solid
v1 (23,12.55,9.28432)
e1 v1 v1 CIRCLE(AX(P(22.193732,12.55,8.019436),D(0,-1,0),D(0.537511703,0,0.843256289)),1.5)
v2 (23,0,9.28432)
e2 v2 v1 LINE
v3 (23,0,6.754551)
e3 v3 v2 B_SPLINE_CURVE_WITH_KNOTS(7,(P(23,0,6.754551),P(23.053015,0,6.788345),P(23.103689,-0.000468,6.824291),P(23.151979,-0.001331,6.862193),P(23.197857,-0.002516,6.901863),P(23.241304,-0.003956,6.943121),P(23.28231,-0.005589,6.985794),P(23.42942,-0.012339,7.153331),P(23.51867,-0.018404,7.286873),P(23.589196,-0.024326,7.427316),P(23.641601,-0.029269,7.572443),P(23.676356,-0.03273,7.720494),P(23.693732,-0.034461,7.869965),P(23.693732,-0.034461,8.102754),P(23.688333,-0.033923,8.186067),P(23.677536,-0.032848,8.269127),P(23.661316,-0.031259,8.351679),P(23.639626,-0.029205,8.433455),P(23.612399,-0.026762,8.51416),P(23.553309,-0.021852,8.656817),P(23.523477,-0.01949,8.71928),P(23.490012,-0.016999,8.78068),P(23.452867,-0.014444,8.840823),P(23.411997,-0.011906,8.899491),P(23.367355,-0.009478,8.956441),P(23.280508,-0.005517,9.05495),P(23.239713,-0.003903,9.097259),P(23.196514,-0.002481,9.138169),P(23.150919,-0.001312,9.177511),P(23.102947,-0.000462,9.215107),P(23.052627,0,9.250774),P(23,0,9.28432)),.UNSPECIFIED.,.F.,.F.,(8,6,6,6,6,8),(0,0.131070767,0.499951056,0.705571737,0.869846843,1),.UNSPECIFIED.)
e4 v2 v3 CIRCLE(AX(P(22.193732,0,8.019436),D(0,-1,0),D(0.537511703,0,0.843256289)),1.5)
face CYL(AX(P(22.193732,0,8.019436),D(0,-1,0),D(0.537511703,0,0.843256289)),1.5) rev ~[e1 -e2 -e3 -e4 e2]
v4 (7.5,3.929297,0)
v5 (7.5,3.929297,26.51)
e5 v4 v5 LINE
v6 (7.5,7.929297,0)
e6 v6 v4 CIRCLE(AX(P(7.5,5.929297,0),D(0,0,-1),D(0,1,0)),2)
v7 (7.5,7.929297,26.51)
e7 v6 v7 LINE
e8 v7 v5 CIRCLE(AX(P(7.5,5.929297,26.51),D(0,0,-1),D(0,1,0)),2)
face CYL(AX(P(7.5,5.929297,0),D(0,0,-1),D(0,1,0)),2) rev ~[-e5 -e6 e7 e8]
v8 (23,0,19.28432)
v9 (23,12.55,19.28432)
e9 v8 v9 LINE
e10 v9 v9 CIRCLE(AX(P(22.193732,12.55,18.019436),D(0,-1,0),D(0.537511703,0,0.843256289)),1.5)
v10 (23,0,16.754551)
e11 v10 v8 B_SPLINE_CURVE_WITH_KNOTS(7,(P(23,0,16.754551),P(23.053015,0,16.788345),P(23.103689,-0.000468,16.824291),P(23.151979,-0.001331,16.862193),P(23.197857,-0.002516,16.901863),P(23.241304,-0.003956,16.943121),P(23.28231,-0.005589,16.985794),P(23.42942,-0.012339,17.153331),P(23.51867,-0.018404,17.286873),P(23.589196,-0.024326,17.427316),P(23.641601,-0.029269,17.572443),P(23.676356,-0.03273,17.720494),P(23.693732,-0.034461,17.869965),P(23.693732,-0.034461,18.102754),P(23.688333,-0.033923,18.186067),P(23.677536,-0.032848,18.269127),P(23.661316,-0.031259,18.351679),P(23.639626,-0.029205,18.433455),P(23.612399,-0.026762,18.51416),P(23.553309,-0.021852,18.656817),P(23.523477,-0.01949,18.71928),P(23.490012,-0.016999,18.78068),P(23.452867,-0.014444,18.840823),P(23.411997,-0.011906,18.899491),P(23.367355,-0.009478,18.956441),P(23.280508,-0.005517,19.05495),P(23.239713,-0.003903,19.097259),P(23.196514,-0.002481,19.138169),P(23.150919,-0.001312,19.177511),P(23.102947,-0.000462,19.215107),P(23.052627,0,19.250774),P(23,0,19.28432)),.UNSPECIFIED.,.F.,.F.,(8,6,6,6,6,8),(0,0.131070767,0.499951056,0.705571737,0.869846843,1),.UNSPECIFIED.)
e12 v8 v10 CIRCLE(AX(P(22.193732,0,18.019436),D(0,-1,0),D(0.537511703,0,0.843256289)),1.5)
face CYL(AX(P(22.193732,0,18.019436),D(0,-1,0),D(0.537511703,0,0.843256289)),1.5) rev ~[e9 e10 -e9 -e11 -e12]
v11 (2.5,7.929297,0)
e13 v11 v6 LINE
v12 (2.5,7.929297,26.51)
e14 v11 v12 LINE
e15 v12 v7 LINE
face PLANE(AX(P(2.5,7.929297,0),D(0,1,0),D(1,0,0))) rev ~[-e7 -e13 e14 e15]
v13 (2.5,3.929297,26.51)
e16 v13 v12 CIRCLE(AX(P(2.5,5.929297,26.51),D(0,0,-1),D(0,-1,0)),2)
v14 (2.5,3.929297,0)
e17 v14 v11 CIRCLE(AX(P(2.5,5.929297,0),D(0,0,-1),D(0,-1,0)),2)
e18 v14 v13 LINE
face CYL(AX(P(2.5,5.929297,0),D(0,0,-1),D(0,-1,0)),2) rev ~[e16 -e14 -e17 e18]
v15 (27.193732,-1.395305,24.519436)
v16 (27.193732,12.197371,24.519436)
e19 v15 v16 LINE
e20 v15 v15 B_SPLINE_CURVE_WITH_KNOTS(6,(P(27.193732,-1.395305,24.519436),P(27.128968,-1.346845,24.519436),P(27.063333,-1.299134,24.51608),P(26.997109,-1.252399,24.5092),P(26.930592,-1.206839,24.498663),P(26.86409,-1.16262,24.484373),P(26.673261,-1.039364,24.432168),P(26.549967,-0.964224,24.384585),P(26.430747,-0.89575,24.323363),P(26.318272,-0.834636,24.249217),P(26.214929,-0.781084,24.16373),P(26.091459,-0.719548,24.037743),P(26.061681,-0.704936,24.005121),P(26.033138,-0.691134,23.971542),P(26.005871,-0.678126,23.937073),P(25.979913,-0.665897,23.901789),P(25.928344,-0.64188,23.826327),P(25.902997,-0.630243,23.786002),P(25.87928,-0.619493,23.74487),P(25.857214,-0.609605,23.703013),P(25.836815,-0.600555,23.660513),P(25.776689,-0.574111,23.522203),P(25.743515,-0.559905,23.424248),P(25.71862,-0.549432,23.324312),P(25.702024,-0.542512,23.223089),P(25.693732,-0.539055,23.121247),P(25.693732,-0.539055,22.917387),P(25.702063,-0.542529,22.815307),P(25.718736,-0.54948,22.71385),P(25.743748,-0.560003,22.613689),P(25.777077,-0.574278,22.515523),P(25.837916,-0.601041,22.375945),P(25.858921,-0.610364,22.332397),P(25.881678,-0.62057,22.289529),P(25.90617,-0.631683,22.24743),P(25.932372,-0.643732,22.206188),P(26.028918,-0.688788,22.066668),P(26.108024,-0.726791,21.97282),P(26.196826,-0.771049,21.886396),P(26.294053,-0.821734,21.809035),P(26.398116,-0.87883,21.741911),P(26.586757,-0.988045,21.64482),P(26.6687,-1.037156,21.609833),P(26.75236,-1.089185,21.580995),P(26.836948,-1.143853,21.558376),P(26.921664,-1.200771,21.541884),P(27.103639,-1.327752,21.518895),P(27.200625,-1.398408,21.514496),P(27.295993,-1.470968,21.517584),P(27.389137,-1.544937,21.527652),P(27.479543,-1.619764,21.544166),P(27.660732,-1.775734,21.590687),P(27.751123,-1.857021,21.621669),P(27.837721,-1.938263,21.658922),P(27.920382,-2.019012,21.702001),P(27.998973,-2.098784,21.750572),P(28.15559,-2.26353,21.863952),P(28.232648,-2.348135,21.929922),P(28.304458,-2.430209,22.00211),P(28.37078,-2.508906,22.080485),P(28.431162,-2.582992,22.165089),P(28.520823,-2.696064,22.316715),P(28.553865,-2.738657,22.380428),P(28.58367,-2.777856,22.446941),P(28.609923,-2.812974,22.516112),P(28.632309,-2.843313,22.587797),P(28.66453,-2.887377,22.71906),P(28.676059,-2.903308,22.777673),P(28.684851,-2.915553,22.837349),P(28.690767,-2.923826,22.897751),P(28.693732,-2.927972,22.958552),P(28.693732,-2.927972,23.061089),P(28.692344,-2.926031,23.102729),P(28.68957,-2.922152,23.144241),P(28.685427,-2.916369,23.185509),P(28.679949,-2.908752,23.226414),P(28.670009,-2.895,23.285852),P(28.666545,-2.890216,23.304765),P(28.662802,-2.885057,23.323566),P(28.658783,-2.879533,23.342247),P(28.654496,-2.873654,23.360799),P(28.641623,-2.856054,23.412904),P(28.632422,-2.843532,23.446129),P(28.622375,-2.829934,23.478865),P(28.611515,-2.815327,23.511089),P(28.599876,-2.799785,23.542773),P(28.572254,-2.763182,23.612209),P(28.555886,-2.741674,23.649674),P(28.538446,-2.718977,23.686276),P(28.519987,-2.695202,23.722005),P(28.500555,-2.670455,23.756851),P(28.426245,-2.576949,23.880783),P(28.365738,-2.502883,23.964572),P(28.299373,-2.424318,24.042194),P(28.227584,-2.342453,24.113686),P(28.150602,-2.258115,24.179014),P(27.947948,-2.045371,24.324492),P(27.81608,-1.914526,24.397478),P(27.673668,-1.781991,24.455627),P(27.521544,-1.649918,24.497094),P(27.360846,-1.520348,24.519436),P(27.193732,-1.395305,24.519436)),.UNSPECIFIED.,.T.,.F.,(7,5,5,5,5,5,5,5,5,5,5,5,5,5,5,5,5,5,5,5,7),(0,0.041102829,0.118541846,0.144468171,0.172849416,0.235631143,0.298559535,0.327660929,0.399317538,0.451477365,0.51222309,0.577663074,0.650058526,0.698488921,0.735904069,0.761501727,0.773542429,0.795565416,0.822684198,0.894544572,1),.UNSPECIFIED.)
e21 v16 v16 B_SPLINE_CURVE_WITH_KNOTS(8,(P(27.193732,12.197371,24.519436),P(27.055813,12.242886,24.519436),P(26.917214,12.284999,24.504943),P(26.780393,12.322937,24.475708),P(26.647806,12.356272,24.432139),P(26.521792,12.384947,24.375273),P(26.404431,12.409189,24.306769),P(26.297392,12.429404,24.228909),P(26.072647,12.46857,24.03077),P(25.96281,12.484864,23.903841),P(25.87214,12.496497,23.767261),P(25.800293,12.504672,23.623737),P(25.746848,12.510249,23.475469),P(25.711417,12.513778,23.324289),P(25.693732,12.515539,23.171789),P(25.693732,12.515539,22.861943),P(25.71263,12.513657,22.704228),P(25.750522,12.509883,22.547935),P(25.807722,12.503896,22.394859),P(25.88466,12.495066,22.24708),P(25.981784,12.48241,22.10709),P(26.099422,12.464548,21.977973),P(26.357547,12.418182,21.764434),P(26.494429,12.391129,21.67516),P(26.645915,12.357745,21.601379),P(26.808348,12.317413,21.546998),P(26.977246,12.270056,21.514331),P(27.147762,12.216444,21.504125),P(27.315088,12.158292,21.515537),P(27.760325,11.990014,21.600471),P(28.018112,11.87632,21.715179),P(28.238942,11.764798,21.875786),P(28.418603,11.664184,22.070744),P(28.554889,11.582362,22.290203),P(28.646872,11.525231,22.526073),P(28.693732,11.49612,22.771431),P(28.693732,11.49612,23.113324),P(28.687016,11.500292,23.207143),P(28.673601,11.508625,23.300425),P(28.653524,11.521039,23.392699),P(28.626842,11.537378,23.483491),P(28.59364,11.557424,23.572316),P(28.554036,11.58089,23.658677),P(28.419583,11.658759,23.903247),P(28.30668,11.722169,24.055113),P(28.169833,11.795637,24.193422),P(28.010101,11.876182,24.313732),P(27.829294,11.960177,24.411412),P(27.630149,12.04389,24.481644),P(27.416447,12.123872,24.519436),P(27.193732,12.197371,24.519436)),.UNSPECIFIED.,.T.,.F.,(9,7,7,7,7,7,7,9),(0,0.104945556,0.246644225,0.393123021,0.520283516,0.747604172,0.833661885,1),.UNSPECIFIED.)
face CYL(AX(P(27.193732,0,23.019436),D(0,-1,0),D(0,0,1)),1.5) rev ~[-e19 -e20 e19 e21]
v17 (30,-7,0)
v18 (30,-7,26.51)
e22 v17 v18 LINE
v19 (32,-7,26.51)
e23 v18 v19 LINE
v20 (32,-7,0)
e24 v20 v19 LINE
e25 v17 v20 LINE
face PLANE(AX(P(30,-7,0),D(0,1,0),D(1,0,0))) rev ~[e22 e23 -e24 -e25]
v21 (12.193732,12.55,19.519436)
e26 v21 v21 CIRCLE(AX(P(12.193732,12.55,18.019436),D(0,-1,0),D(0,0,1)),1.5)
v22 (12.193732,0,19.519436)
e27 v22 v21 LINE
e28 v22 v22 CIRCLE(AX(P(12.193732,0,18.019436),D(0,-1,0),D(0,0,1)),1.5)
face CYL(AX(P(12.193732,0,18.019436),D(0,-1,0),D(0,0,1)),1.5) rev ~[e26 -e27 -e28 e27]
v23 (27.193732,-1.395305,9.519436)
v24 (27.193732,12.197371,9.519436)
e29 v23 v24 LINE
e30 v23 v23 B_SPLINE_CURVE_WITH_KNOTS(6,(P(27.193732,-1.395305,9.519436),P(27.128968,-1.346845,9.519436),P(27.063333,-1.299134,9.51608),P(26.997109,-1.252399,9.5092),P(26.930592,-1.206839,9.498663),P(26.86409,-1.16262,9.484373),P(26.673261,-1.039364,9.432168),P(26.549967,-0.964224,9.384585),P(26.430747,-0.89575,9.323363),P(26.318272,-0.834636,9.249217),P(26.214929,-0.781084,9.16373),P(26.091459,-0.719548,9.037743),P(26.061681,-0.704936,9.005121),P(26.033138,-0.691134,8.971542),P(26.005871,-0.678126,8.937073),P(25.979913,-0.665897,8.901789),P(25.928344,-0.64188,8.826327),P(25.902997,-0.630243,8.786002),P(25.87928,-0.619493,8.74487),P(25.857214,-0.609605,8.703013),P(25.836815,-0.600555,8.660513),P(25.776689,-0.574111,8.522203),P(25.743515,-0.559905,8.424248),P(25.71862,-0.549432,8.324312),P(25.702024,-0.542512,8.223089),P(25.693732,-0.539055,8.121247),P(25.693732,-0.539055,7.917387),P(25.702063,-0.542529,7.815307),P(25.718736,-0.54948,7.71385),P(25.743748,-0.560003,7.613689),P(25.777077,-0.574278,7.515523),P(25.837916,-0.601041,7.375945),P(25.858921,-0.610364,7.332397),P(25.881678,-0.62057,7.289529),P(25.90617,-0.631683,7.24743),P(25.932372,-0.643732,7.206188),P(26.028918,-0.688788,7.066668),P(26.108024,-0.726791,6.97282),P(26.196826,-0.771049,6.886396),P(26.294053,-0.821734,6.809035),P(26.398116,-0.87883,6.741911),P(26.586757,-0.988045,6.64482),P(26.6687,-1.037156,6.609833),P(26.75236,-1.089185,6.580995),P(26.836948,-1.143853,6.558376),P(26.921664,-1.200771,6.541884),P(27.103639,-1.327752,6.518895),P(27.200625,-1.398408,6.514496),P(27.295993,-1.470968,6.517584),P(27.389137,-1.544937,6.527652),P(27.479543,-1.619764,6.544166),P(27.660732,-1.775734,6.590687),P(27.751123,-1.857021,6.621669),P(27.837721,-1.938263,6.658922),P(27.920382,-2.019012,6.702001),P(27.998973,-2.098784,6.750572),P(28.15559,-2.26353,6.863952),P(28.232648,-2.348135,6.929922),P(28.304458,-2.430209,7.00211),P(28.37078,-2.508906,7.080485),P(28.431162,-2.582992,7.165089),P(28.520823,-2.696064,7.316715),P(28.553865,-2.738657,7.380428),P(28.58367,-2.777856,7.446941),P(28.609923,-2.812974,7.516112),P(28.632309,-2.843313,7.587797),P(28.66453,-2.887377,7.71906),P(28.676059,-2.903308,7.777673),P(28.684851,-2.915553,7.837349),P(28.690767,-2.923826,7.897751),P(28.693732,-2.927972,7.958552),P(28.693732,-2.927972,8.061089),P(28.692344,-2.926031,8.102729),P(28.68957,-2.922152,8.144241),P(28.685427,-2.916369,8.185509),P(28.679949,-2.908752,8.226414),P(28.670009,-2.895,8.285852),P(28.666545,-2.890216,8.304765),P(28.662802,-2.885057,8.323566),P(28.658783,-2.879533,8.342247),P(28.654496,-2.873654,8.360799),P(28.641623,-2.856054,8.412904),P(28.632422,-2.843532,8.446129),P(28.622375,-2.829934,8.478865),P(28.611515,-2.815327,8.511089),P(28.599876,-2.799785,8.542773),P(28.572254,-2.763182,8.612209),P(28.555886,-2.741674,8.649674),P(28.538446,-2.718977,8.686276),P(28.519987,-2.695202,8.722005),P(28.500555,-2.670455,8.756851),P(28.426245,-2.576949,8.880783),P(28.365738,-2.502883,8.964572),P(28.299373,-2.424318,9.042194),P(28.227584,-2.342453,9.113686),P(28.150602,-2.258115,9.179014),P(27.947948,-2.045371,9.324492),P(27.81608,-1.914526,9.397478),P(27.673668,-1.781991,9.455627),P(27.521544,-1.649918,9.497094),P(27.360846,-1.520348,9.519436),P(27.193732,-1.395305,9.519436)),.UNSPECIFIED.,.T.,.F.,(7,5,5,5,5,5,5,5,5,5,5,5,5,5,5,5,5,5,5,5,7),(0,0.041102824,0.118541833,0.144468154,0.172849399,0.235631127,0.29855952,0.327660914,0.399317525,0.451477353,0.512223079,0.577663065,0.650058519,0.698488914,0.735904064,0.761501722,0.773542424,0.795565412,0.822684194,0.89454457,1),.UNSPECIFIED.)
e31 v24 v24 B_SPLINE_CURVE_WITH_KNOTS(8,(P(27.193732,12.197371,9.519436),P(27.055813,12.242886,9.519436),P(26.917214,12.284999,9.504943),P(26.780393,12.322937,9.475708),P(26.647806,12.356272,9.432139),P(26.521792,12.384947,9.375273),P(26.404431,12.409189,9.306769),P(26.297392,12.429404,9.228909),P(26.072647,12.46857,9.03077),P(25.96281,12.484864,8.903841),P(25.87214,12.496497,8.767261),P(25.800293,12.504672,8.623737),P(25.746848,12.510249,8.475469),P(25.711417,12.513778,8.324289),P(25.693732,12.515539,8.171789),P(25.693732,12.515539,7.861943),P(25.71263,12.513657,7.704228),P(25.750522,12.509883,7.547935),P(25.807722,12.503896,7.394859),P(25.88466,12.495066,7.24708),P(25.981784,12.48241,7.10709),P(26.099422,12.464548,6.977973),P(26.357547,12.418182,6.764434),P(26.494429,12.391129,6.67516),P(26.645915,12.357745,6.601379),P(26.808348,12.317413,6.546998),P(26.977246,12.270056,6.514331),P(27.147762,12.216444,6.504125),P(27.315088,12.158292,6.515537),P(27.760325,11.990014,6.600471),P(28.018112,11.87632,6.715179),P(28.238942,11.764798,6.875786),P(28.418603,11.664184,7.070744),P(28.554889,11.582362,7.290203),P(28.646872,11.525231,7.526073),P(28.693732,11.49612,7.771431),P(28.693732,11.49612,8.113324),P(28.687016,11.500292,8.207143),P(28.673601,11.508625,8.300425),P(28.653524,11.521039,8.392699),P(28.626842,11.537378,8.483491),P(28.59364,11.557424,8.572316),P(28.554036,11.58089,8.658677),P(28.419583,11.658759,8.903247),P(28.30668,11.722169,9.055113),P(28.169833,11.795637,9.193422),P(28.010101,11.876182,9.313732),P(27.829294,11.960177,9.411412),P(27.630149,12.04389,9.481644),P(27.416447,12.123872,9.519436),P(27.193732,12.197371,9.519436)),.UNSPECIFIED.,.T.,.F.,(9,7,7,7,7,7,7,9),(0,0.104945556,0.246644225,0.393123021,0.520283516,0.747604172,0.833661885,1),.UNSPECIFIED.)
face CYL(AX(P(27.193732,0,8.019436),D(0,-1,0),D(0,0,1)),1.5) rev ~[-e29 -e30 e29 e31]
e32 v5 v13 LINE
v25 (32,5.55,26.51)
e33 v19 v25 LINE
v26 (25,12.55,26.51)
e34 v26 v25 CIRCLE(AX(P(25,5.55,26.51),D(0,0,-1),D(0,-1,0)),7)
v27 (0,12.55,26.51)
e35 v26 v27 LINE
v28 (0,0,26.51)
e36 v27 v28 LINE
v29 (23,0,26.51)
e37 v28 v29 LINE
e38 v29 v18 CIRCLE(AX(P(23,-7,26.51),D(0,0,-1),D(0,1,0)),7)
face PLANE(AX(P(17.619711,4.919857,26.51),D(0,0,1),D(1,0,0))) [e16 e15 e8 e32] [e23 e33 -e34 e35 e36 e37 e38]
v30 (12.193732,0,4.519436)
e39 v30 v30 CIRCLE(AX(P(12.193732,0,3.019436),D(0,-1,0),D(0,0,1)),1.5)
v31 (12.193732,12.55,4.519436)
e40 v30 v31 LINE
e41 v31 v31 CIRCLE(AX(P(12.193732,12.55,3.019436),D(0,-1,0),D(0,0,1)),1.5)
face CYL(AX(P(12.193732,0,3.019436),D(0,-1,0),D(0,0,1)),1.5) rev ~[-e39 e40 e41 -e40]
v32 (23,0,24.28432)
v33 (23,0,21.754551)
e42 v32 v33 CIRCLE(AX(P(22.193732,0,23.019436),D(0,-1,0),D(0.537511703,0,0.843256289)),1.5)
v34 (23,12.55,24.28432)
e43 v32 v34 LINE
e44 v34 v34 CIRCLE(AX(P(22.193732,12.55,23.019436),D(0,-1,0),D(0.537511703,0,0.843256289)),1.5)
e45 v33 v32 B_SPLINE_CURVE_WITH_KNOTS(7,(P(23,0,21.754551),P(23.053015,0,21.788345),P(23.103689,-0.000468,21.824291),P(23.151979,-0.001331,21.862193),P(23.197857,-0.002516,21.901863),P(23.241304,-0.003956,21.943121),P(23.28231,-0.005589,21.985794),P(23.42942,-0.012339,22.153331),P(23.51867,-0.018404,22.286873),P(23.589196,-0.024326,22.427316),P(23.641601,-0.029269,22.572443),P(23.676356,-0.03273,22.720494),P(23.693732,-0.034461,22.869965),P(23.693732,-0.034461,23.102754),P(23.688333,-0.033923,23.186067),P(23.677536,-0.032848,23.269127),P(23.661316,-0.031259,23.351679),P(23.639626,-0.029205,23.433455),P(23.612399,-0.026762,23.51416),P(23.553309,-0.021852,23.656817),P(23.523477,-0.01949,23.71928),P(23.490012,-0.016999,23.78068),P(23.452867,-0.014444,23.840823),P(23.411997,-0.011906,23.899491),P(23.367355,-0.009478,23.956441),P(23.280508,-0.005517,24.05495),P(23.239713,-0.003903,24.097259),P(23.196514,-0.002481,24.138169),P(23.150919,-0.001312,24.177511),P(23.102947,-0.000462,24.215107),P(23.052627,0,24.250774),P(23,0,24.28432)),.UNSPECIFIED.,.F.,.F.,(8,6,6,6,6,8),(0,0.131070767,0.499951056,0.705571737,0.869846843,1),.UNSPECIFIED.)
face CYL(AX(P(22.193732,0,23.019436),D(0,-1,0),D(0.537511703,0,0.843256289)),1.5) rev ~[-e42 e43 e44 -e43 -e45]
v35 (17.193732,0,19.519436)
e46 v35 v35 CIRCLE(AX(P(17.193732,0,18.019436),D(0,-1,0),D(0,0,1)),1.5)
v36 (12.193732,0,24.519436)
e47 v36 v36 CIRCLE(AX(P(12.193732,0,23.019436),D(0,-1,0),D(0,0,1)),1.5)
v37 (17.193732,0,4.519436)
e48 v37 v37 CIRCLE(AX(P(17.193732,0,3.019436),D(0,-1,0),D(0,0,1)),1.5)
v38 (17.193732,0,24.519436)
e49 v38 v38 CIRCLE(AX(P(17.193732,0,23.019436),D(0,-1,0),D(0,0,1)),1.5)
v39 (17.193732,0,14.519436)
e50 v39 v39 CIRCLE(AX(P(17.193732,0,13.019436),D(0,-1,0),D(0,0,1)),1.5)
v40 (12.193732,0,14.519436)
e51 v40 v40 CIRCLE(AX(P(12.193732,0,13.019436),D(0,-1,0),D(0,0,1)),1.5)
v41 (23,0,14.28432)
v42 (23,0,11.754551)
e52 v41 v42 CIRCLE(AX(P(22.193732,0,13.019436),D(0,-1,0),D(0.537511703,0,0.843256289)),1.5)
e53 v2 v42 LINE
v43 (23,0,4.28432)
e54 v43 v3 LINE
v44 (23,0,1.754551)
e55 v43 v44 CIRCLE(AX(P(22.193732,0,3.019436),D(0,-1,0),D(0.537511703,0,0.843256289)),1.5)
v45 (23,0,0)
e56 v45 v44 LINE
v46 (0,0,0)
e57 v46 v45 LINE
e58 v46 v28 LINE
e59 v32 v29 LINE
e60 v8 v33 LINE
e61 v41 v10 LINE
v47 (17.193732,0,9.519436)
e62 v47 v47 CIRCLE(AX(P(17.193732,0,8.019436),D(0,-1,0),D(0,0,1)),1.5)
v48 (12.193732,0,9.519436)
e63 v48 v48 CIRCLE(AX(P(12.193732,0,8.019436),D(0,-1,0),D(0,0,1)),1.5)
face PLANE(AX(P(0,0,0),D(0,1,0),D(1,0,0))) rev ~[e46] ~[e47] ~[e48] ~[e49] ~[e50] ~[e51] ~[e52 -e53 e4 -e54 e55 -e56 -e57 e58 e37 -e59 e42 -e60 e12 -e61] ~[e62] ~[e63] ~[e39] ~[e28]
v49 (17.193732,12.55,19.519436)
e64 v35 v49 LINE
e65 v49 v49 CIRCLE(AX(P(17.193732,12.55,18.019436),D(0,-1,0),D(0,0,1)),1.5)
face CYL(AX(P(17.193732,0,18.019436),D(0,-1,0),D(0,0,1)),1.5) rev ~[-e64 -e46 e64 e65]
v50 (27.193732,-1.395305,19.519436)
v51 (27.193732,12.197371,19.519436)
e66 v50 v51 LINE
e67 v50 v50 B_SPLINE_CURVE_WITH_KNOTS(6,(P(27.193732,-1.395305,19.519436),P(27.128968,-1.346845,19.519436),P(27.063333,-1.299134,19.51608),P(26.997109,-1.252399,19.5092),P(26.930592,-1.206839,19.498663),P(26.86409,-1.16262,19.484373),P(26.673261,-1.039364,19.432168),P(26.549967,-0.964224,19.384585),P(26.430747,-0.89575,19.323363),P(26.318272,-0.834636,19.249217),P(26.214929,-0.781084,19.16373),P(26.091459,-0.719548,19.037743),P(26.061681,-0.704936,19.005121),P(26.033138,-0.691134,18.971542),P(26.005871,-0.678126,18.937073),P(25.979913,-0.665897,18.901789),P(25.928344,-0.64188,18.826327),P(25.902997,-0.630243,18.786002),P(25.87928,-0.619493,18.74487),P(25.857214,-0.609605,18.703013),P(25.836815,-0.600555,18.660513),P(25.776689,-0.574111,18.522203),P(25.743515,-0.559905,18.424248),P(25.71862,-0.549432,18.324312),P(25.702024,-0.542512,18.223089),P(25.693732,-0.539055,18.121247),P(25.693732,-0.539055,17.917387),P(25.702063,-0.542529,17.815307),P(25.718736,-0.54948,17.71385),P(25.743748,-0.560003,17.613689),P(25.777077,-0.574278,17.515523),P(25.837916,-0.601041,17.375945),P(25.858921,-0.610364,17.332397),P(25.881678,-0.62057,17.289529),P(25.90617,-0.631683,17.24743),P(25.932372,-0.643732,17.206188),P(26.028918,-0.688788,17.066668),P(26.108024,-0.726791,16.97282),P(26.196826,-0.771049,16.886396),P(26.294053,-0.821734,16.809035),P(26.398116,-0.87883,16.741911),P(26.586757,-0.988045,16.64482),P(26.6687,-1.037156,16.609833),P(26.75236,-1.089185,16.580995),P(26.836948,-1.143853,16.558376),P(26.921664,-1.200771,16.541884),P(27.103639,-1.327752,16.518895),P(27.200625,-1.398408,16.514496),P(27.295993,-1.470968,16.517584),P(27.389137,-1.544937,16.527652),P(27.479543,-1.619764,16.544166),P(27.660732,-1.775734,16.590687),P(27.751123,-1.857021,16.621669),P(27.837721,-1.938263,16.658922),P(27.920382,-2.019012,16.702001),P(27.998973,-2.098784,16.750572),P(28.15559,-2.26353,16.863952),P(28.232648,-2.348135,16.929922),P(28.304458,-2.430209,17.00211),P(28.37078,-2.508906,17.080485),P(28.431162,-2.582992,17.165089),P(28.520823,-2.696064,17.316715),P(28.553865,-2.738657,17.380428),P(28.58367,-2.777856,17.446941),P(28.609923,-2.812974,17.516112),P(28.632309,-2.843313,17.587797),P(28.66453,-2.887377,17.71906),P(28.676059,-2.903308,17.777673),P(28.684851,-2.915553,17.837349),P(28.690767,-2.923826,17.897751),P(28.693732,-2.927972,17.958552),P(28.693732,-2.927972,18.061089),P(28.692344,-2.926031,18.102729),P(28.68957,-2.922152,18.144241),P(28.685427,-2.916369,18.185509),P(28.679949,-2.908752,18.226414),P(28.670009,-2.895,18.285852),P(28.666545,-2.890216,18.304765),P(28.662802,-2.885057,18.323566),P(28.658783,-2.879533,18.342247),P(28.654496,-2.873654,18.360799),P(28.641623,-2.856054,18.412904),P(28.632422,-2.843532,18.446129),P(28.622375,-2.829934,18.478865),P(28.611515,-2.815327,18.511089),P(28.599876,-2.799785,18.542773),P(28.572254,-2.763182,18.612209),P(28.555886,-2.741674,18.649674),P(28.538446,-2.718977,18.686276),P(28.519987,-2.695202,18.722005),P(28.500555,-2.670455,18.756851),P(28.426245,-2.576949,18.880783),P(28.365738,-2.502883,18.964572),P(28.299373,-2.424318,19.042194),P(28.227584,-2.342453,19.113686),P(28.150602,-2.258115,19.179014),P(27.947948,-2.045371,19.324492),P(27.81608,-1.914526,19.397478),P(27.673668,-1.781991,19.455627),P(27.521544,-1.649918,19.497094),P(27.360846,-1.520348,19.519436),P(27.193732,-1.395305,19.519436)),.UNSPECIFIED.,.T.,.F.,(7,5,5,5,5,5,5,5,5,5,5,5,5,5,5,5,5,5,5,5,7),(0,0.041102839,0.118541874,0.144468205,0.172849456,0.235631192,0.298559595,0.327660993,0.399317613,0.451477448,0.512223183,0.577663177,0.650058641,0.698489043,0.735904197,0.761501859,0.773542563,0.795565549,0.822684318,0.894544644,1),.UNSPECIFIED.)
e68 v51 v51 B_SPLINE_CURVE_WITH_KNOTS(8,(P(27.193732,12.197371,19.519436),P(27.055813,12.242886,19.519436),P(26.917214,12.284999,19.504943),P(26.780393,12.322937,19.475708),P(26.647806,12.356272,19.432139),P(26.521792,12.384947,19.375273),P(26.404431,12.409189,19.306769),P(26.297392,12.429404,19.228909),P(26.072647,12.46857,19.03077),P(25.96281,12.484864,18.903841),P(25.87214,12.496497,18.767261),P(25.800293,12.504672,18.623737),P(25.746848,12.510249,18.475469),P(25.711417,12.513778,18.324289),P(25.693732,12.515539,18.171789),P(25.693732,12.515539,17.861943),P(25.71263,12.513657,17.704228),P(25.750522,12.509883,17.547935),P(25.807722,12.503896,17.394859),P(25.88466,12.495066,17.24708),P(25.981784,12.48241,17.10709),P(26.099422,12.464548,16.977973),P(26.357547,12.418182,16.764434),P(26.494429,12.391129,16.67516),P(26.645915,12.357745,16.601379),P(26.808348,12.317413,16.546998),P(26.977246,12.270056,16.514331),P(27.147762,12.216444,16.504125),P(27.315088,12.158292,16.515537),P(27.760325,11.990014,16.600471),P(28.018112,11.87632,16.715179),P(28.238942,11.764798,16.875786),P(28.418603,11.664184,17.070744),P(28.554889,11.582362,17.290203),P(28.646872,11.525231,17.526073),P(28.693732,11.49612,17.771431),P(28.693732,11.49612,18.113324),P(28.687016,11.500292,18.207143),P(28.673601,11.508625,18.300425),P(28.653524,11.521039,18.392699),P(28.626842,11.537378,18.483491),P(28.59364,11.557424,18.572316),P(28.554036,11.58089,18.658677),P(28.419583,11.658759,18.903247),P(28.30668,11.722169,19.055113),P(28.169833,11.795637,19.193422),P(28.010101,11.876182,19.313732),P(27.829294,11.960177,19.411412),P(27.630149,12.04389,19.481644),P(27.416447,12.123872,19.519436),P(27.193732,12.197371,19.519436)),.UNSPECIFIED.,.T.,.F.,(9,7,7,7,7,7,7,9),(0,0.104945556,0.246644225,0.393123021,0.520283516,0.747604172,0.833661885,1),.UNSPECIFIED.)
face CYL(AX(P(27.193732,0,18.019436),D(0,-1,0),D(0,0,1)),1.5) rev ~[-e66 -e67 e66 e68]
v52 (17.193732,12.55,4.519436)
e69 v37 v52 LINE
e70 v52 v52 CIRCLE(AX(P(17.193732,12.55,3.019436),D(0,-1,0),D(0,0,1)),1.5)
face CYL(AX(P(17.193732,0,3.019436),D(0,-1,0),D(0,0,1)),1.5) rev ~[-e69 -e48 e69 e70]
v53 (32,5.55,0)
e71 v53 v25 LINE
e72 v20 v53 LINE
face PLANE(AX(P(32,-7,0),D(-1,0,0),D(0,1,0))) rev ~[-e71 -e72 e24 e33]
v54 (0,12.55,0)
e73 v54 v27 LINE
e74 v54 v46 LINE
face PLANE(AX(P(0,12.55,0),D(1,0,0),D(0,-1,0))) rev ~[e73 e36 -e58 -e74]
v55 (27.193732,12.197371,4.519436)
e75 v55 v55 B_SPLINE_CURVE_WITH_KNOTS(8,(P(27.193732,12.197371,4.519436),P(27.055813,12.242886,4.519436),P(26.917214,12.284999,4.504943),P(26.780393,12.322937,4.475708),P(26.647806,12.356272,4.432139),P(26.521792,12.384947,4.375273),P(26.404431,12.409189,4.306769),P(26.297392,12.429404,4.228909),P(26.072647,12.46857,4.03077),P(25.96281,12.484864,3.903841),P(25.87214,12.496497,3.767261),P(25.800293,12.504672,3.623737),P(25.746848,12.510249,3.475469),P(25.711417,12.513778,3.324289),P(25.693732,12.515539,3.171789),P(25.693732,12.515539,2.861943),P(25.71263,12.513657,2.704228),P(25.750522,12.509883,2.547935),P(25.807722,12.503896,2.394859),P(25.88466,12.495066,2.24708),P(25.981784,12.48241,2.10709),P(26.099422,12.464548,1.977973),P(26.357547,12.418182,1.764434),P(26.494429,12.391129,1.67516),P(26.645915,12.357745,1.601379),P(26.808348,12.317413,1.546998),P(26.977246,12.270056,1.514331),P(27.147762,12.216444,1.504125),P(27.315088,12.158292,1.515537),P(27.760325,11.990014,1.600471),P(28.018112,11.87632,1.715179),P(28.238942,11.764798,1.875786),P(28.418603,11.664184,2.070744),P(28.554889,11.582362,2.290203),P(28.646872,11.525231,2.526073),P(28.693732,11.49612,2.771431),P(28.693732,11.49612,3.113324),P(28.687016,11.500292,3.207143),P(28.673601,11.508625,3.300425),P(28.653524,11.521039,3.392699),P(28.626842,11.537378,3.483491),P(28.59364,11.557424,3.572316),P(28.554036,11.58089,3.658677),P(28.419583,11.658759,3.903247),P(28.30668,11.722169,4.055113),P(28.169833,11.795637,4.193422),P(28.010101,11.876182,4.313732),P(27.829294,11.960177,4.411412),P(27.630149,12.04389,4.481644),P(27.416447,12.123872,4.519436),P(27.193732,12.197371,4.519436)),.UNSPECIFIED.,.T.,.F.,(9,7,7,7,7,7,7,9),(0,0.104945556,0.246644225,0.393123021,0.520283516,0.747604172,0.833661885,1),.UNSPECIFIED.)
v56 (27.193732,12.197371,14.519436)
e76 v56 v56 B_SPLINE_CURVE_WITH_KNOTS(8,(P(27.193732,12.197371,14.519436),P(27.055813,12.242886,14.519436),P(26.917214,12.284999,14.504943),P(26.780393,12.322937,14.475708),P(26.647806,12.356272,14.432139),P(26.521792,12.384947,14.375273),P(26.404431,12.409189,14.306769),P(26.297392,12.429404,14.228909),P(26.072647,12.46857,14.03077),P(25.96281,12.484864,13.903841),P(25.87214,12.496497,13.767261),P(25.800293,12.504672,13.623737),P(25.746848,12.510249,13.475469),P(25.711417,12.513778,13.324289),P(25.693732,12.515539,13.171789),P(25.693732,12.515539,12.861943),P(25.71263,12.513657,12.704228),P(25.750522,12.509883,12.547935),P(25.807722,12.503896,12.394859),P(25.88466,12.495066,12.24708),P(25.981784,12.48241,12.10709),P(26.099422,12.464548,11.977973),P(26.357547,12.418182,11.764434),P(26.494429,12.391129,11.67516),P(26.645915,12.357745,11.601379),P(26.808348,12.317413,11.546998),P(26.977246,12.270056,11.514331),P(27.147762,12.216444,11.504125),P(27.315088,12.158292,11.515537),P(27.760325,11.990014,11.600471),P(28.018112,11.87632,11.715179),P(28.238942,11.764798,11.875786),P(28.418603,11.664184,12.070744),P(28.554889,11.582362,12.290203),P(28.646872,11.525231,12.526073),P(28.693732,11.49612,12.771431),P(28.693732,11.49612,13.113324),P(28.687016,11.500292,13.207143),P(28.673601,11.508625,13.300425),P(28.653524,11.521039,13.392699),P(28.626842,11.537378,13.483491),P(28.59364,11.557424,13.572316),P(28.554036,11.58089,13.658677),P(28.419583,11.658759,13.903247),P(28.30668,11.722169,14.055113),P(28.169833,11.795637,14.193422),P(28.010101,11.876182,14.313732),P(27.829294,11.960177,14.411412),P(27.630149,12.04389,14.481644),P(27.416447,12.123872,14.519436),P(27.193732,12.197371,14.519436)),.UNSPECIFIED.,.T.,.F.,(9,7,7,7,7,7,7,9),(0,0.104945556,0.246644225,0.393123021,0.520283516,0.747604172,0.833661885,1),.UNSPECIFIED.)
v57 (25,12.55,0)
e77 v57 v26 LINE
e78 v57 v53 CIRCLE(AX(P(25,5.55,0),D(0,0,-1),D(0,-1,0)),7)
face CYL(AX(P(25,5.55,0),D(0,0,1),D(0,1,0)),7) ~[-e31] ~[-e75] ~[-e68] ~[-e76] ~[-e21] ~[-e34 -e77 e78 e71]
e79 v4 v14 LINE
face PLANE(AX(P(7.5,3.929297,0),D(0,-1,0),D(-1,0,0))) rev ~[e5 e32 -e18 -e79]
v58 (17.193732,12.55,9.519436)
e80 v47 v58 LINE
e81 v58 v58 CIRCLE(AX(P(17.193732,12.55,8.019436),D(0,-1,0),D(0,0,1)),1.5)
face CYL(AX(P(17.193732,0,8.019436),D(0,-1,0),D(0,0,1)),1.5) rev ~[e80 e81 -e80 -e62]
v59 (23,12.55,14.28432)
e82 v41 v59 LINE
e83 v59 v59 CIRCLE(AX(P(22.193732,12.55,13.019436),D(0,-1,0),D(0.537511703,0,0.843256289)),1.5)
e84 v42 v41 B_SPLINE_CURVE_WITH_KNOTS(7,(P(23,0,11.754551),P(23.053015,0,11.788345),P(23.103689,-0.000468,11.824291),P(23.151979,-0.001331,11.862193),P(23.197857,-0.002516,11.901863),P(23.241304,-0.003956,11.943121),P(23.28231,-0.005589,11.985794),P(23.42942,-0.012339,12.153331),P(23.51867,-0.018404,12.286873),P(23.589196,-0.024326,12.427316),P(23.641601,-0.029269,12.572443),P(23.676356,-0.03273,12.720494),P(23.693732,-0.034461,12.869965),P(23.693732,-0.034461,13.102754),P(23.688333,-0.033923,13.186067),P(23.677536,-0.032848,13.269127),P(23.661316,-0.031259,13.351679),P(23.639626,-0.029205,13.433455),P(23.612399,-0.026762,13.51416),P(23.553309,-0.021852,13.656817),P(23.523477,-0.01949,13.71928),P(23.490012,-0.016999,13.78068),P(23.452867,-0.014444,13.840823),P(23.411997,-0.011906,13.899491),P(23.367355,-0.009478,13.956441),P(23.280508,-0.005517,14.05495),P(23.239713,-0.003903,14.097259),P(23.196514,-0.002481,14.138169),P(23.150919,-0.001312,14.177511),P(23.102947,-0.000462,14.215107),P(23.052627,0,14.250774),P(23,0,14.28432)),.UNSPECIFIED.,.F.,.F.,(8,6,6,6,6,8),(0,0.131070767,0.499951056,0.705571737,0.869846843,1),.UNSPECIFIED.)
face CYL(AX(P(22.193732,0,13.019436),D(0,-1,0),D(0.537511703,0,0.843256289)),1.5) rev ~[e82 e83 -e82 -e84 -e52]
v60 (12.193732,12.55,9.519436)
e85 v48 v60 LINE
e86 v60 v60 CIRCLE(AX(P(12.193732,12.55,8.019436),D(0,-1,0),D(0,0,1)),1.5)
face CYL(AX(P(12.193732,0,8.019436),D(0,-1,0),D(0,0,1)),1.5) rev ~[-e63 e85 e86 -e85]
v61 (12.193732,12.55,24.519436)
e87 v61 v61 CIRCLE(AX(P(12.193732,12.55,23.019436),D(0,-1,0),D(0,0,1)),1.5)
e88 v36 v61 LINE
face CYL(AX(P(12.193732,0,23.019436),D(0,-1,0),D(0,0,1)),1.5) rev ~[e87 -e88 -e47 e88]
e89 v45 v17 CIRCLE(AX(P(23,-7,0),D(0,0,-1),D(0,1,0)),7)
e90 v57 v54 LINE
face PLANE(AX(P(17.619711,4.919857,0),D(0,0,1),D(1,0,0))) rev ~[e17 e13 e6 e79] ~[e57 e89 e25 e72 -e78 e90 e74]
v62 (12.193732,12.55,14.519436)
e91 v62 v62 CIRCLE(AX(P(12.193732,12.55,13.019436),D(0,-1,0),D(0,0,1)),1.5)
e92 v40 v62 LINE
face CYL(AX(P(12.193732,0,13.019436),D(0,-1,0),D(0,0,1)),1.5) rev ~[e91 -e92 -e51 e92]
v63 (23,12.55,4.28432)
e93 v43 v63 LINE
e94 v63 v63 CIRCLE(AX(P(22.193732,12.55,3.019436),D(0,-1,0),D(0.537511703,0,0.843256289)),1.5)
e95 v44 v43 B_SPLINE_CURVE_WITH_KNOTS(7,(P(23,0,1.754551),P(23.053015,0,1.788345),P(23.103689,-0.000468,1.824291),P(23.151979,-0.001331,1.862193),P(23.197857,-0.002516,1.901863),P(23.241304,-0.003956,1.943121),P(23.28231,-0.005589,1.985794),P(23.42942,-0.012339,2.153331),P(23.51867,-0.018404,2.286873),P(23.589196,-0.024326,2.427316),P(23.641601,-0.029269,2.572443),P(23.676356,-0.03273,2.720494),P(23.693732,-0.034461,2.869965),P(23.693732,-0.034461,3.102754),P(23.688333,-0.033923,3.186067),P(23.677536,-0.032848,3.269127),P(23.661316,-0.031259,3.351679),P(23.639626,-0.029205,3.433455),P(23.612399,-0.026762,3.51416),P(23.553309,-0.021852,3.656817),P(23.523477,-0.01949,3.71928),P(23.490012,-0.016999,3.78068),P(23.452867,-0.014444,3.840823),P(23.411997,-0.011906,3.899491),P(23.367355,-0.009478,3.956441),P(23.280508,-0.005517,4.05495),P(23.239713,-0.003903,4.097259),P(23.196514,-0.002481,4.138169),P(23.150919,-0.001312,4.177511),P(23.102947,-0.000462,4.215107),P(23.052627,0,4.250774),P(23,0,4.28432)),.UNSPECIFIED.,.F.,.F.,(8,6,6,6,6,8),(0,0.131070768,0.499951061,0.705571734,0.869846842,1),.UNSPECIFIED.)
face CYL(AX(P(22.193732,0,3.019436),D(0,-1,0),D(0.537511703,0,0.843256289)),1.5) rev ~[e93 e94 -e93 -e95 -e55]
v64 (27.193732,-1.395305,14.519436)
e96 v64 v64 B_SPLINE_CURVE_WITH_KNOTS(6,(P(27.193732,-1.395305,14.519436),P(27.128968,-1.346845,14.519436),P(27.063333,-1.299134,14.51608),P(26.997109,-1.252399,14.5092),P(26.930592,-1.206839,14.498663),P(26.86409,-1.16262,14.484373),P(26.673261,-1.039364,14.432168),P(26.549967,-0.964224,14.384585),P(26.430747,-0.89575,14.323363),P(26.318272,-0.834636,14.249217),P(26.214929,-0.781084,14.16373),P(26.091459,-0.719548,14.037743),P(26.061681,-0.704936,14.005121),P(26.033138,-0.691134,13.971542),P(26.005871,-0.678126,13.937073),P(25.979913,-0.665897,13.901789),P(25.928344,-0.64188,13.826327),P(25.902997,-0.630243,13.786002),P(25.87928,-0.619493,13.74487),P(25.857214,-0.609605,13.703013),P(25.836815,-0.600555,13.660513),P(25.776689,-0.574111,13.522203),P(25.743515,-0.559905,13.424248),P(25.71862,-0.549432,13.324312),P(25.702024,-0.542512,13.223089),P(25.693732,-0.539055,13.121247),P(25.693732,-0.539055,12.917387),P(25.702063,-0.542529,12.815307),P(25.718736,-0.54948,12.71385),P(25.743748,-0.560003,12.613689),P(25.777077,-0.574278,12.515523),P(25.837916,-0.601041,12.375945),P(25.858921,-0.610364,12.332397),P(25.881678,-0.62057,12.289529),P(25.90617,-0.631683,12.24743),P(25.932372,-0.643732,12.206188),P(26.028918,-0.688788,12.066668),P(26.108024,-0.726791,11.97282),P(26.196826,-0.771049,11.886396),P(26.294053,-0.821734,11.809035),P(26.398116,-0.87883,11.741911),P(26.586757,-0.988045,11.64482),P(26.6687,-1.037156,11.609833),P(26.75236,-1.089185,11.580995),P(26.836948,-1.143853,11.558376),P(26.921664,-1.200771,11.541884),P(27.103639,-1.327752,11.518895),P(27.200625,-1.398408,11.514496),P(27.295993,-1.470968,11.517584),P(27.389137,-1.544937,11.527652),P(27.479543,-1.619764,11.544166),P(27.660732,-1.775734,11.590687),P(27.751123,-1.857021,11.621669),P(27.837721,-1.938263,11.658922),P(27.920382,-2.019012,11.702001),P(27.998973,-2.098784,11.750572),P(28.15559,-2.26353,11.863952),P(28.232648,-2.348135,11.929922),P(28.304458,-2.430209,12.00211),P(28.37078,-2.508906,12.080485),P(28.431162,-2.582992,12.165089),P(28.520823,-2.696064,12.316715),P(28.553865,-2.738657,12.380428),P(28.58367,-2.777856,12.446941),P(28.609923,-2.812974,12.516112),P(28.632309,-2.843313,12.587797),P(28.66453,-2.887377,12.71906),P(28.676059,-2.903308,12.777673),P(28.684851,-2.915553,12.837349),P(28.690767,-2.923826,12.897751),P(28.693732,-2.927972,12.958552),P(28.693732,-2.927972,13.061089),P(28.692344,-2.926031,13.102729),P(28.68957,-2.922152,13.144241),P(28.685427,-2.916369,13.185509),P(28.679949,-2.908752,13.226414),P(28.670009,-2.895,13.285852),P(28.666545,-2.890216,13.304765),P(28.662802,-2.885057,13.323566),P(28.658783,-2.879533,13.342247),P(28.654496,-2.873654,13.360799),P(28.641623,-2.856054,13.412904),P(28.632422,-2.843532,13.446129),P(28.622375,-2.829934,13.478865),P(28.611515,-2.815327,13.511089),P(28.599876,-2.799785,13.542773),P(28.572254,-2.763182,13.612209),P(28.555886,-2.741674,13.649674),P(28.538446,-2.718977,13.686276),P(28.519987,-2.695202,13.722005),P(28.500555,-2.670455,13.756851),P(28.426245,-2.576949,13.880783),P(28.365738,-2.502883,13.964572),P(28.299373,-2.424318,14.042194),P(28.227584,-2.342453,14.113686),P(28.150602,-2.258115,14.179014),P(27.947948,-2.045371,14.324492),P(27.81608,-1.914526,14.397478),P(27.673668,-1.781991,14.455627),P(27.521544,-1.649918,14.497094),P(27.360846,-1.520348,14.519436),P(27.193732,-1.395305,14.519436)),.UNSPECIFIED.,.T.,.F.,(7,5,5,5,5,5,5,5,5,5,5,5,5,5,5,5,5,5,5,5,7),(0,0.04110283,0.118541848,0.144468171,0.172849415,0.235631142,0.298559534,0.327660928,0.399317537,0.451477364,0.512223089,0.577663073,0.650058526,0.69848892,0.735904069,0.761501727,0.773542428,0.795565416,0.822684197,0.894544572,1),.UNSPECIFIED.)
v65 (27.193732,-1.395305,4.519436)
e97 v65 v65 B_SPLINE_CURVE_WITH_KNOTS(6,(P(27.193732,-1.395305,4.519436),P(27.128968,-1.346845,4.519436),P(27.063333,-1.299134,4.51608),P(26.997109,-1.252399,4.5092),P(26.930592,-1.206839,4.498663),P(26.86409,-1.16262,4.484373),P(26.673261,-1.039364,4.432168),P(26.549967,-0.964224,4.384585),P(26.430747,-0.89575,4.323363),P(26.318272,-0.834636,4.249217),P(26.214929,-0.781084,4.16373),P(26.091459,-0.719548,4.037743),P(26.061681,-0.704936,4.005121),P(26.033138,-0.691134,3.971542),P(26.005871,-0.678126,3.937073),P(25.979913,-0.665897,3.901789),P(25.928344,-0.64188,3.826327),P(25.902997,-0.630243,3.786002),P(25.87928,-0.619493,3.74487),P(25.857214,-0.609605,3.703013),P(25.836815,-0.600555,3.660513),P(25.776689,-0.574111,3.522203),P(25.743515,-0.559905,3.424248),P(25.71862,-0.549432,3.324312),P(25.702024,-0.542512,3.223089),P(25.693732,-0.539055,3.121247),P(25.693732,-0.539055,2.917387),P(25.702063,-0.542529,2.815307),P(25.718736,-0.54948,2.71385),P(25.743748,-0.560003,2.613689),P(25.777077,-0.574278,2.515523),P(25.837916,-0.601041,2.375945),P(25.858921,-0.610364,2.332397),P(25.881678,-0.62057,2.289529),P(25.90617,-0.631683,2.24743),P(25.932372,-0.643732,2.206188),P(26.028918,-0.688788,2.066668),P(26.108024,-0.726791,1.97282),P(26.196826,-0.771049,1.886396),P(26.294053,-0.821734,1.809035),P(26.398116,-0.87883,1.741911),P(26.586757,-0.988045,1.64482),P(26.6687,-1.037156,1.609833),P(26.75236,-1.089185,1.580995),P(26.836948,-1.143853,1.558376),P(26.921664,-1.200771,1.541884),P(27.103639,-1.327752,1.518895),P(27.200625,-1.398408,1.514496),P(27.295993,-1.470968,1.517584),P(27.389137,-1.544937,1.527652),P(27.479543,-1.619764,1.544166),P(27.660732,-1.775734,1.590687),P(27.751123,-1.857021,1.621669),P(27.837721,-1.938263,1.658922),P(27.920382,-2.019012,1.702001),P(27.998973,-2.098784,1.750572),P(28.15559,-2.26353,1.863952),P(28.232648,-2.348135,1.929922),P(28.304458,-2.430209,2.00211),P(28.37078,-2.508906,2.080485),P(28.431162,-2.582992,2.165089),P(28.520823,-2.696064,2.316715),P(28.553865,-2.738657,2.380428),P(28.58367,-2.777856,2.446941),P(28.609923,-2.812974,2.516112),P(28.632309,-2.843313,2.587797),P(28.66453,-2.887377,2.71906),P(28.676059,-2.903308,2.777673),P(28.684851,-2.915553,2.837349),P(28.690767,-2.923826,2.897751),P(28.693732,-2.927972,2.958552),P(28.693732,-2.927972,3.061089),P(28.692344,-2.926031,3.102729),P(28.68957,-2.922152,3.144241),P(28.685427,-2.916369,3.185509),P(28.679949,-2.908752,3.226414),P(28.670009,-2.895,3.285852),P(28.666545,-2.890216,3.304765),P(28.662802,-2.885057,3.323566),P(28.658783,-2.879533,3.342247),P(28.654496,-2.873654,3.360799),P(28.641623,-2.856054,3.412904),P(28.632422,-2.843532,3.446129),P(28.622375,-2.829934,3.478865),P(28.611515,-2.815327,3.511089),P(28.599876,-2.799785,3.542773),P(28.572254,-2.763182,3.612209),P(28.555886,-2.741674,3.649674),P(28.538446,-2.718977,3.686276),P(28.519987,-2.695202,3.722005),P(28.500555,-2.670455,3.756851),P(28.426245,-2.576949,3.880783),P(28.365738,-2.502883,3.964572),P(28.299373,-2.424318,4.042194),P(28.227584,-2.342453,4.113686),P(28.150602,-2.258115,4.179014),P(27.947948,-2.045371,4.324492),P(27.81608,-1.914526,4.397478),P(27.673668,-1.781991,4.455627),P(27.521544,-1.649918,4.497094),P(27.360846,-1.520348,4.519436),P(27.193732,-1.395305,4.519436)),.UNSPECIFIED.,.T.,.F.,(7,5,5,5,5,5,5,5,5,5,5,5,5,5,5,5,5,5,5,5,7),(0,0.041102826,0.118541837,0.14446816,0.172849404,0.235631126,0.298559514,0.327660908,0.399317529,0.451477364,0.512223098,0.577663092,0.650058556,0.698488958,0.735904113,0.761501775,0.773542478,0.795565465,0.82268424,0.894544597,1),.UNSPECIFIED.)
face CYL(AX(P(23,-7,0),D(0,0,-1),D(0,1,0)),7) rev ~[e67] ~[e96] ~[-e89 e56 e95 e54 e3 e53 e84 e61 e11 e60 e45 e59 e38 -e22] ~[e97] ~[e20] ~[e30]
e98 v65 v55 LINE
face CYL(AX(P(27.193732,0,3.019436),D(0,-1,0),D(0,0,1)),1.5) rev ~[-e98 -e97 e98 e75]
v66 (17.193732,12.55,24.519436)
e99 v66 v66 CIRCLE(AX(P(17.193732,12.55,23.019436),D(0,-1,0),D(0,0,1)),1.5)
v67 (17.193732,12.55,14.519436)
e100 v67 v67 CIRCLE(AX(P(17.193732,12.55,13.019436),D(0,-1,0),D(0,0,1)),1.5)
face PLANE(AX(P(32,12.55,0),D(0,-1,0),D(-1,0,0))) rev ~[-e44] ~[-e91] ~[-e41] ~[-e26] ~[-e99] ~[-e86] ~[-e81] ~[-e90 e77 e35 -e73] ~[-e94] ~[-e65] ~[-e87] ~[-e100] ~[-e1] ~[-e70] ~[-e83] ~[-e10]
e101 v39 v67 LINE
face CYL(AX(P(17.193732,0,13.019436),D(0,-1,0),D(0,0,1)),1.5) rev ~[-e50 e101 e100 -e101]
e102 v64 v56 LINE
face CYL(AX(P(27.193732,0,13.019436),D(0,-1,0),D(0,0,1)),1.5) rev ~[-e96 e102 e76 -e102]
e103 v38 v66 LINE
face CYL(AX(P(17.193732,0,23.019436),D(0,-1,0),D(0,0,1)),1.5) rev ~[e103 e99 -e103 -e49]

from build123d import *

# Parameters (mm, degrees)
BOSS_EXTRU_1_DEPTH           = 26.51
CONG_1_R                     = 7
ESQUISSE2_R                  = 1.5
ENL_V_MAT_EXTRU_2_DEPTH      = 10
ENL_V_MAT_EXTRU_2_DEPTH_BACK = 20


with BuildPart() as part:
    # Esquisse1 → Boss.-Extru.1 (new body)
    with BuildSketch(Plane.XY):
        with BuildLine():
            Line((0, 0), (23, 0))
            ThreePointArc((23, 0), (27.949747468, -2.050252532), (30, -7))
            Line((30, -7), (32, -7))
            Line((32, -7), (32, -2.95))
            Line((32, -2.95), (32, 12.55))
            Line((32, 12.55), (0, 12.55))
            Line((0, 12.55), (0, 0))
        make_face()
        with BuildLine():
            Line((2.5, 7.929296875), (7.5, 7.929296875))
            ThreePointArc((7.5, 7.929296875), (9.5, 5.929296875), (7.5, 3.929296875))
            Line((7.5, 3.929296875), (2.5, 3.929296875))
            ThreePointArc((2.5, 3.929296875), (0.5, 5.929296875), (2.5, 7.929296875))
        make_face(mode=Mode.SUBTRACT)
    extrude(amount=BOSS_EXTRU_1_DEPTH)

    # Congé1
    cong_1_edges = [part.edges().sort_by_distance(p)[0] for p in [
        (32, 12.55, 13.255),
    ]]
    fillet(cong_1_edges, radius=CONG_1_R)

    # Esquisse2 → Enlèv. mat.-Extru.2 (cut, two sides)
    with BuildSketch(Plane.XZ) as enl_v_mat_extru_2_sk:
        with Locations(Location((12.193732445, 3.01943583, 0), (0, 0, 90))):
            Circle(ESQUISSE2_R)
        with Locations(Location((17.193732445, 3.01943583, 0), (0, 0, 90))):
            Circle(ESQUISSE2_R)
        with Locations(Location((22.193732445, 3.01943583, 0), (0, 0, 57.485590174))):
            Circle(ESQUISSE2_R)
        with Locations(Location((17.193732445, 8.01943583, 0), (0, 0, 90))):
            Circle(ESQUISSE2_R)
        with Locations(Location((22.193732445, 8.01943583, 0), (0, 0, 57.485590174))):
            Circle(ESQUISSE2_R)
        with Locations(Location((17.193732445, 13.01943583, 0), (0, 0, 90))):
            Circle(ESQUISSE2_R)
        with Locations(Location((22.193732445, 13.01943583, 0), (0, 0, 57.485590174))):
            Circle(ESQUISSE2_R)
        with Locations(Location((17.193732445, 18.01943583, 0), (0, 0, 90))):
            Circle(ESQUISSE2_R)
        with Locations(Location((22.193732445, 18.01943583, 0), (0, 0, 57.485590174))):
            Circle(ESQUISSE2_R)
        with Locations(Location((17.193732445, 23.01943583, 0), (0, 0, 90))):
            Circle(ESQUISSE2_R)
        with Locations(Location((22.193732445, 23.01943583, 0), (0, 0, 57.485590174))):
            Circle(ESQUISSE2_R)
        with Locations(Location((12.193732445, 8.01943583, 0), (0, 0, 90))):
            Circle(ESQUISSE2_R)
        with Locations(Location((12.193732445, 13.01943583, 0), (0, 0, 90))):
            Circle(ESQUISSE2_R)
        with Locations(Location((12.193732445, 18.01943583, 0), (0, 0, 90))):
            Circle(ESQUISSE2_R)
        with Locations(Location((12.193732445, 23.01943583, 0), (0, 0, 90))):
            Circle(ESQUISSE2_R)
        with Locations(Location((27.193732445, 3.01943583, 0), (0, 0, 90))):
            Circle(ESQUISSE2_R)
        with Locations(Location((27.193732445, 8.01943583, 0), (0, 0, 90))):
            Circle(ESQUISSE2_R)
        with Locations(Location((27.193732445, 13.01943583, 0), (0, 0, 90))):
            Circle(ESQUISSE2_R)
        with Locations(Location((27.193732445, 18.01943583, 0), (0, 0, 90))):
            Circle(ESQUISSE2_R)
        with Locations(Location((27.193732445, 23.01943583, 0), (0, 0, 90))):
            Circle(ESQUISSE2_R)
    extrude(amount=ENL_V_MAT_EXTRU_2_DEPTH, mode=Mode.SUBTRACT)
    extrude(enl_v_mat_extru_2_sk.sketch, amount=-ENL_V_MAT_EXTRU_2_DEPTH_BACK, mode=Mode.SUBTRACT)


solid = part.part
